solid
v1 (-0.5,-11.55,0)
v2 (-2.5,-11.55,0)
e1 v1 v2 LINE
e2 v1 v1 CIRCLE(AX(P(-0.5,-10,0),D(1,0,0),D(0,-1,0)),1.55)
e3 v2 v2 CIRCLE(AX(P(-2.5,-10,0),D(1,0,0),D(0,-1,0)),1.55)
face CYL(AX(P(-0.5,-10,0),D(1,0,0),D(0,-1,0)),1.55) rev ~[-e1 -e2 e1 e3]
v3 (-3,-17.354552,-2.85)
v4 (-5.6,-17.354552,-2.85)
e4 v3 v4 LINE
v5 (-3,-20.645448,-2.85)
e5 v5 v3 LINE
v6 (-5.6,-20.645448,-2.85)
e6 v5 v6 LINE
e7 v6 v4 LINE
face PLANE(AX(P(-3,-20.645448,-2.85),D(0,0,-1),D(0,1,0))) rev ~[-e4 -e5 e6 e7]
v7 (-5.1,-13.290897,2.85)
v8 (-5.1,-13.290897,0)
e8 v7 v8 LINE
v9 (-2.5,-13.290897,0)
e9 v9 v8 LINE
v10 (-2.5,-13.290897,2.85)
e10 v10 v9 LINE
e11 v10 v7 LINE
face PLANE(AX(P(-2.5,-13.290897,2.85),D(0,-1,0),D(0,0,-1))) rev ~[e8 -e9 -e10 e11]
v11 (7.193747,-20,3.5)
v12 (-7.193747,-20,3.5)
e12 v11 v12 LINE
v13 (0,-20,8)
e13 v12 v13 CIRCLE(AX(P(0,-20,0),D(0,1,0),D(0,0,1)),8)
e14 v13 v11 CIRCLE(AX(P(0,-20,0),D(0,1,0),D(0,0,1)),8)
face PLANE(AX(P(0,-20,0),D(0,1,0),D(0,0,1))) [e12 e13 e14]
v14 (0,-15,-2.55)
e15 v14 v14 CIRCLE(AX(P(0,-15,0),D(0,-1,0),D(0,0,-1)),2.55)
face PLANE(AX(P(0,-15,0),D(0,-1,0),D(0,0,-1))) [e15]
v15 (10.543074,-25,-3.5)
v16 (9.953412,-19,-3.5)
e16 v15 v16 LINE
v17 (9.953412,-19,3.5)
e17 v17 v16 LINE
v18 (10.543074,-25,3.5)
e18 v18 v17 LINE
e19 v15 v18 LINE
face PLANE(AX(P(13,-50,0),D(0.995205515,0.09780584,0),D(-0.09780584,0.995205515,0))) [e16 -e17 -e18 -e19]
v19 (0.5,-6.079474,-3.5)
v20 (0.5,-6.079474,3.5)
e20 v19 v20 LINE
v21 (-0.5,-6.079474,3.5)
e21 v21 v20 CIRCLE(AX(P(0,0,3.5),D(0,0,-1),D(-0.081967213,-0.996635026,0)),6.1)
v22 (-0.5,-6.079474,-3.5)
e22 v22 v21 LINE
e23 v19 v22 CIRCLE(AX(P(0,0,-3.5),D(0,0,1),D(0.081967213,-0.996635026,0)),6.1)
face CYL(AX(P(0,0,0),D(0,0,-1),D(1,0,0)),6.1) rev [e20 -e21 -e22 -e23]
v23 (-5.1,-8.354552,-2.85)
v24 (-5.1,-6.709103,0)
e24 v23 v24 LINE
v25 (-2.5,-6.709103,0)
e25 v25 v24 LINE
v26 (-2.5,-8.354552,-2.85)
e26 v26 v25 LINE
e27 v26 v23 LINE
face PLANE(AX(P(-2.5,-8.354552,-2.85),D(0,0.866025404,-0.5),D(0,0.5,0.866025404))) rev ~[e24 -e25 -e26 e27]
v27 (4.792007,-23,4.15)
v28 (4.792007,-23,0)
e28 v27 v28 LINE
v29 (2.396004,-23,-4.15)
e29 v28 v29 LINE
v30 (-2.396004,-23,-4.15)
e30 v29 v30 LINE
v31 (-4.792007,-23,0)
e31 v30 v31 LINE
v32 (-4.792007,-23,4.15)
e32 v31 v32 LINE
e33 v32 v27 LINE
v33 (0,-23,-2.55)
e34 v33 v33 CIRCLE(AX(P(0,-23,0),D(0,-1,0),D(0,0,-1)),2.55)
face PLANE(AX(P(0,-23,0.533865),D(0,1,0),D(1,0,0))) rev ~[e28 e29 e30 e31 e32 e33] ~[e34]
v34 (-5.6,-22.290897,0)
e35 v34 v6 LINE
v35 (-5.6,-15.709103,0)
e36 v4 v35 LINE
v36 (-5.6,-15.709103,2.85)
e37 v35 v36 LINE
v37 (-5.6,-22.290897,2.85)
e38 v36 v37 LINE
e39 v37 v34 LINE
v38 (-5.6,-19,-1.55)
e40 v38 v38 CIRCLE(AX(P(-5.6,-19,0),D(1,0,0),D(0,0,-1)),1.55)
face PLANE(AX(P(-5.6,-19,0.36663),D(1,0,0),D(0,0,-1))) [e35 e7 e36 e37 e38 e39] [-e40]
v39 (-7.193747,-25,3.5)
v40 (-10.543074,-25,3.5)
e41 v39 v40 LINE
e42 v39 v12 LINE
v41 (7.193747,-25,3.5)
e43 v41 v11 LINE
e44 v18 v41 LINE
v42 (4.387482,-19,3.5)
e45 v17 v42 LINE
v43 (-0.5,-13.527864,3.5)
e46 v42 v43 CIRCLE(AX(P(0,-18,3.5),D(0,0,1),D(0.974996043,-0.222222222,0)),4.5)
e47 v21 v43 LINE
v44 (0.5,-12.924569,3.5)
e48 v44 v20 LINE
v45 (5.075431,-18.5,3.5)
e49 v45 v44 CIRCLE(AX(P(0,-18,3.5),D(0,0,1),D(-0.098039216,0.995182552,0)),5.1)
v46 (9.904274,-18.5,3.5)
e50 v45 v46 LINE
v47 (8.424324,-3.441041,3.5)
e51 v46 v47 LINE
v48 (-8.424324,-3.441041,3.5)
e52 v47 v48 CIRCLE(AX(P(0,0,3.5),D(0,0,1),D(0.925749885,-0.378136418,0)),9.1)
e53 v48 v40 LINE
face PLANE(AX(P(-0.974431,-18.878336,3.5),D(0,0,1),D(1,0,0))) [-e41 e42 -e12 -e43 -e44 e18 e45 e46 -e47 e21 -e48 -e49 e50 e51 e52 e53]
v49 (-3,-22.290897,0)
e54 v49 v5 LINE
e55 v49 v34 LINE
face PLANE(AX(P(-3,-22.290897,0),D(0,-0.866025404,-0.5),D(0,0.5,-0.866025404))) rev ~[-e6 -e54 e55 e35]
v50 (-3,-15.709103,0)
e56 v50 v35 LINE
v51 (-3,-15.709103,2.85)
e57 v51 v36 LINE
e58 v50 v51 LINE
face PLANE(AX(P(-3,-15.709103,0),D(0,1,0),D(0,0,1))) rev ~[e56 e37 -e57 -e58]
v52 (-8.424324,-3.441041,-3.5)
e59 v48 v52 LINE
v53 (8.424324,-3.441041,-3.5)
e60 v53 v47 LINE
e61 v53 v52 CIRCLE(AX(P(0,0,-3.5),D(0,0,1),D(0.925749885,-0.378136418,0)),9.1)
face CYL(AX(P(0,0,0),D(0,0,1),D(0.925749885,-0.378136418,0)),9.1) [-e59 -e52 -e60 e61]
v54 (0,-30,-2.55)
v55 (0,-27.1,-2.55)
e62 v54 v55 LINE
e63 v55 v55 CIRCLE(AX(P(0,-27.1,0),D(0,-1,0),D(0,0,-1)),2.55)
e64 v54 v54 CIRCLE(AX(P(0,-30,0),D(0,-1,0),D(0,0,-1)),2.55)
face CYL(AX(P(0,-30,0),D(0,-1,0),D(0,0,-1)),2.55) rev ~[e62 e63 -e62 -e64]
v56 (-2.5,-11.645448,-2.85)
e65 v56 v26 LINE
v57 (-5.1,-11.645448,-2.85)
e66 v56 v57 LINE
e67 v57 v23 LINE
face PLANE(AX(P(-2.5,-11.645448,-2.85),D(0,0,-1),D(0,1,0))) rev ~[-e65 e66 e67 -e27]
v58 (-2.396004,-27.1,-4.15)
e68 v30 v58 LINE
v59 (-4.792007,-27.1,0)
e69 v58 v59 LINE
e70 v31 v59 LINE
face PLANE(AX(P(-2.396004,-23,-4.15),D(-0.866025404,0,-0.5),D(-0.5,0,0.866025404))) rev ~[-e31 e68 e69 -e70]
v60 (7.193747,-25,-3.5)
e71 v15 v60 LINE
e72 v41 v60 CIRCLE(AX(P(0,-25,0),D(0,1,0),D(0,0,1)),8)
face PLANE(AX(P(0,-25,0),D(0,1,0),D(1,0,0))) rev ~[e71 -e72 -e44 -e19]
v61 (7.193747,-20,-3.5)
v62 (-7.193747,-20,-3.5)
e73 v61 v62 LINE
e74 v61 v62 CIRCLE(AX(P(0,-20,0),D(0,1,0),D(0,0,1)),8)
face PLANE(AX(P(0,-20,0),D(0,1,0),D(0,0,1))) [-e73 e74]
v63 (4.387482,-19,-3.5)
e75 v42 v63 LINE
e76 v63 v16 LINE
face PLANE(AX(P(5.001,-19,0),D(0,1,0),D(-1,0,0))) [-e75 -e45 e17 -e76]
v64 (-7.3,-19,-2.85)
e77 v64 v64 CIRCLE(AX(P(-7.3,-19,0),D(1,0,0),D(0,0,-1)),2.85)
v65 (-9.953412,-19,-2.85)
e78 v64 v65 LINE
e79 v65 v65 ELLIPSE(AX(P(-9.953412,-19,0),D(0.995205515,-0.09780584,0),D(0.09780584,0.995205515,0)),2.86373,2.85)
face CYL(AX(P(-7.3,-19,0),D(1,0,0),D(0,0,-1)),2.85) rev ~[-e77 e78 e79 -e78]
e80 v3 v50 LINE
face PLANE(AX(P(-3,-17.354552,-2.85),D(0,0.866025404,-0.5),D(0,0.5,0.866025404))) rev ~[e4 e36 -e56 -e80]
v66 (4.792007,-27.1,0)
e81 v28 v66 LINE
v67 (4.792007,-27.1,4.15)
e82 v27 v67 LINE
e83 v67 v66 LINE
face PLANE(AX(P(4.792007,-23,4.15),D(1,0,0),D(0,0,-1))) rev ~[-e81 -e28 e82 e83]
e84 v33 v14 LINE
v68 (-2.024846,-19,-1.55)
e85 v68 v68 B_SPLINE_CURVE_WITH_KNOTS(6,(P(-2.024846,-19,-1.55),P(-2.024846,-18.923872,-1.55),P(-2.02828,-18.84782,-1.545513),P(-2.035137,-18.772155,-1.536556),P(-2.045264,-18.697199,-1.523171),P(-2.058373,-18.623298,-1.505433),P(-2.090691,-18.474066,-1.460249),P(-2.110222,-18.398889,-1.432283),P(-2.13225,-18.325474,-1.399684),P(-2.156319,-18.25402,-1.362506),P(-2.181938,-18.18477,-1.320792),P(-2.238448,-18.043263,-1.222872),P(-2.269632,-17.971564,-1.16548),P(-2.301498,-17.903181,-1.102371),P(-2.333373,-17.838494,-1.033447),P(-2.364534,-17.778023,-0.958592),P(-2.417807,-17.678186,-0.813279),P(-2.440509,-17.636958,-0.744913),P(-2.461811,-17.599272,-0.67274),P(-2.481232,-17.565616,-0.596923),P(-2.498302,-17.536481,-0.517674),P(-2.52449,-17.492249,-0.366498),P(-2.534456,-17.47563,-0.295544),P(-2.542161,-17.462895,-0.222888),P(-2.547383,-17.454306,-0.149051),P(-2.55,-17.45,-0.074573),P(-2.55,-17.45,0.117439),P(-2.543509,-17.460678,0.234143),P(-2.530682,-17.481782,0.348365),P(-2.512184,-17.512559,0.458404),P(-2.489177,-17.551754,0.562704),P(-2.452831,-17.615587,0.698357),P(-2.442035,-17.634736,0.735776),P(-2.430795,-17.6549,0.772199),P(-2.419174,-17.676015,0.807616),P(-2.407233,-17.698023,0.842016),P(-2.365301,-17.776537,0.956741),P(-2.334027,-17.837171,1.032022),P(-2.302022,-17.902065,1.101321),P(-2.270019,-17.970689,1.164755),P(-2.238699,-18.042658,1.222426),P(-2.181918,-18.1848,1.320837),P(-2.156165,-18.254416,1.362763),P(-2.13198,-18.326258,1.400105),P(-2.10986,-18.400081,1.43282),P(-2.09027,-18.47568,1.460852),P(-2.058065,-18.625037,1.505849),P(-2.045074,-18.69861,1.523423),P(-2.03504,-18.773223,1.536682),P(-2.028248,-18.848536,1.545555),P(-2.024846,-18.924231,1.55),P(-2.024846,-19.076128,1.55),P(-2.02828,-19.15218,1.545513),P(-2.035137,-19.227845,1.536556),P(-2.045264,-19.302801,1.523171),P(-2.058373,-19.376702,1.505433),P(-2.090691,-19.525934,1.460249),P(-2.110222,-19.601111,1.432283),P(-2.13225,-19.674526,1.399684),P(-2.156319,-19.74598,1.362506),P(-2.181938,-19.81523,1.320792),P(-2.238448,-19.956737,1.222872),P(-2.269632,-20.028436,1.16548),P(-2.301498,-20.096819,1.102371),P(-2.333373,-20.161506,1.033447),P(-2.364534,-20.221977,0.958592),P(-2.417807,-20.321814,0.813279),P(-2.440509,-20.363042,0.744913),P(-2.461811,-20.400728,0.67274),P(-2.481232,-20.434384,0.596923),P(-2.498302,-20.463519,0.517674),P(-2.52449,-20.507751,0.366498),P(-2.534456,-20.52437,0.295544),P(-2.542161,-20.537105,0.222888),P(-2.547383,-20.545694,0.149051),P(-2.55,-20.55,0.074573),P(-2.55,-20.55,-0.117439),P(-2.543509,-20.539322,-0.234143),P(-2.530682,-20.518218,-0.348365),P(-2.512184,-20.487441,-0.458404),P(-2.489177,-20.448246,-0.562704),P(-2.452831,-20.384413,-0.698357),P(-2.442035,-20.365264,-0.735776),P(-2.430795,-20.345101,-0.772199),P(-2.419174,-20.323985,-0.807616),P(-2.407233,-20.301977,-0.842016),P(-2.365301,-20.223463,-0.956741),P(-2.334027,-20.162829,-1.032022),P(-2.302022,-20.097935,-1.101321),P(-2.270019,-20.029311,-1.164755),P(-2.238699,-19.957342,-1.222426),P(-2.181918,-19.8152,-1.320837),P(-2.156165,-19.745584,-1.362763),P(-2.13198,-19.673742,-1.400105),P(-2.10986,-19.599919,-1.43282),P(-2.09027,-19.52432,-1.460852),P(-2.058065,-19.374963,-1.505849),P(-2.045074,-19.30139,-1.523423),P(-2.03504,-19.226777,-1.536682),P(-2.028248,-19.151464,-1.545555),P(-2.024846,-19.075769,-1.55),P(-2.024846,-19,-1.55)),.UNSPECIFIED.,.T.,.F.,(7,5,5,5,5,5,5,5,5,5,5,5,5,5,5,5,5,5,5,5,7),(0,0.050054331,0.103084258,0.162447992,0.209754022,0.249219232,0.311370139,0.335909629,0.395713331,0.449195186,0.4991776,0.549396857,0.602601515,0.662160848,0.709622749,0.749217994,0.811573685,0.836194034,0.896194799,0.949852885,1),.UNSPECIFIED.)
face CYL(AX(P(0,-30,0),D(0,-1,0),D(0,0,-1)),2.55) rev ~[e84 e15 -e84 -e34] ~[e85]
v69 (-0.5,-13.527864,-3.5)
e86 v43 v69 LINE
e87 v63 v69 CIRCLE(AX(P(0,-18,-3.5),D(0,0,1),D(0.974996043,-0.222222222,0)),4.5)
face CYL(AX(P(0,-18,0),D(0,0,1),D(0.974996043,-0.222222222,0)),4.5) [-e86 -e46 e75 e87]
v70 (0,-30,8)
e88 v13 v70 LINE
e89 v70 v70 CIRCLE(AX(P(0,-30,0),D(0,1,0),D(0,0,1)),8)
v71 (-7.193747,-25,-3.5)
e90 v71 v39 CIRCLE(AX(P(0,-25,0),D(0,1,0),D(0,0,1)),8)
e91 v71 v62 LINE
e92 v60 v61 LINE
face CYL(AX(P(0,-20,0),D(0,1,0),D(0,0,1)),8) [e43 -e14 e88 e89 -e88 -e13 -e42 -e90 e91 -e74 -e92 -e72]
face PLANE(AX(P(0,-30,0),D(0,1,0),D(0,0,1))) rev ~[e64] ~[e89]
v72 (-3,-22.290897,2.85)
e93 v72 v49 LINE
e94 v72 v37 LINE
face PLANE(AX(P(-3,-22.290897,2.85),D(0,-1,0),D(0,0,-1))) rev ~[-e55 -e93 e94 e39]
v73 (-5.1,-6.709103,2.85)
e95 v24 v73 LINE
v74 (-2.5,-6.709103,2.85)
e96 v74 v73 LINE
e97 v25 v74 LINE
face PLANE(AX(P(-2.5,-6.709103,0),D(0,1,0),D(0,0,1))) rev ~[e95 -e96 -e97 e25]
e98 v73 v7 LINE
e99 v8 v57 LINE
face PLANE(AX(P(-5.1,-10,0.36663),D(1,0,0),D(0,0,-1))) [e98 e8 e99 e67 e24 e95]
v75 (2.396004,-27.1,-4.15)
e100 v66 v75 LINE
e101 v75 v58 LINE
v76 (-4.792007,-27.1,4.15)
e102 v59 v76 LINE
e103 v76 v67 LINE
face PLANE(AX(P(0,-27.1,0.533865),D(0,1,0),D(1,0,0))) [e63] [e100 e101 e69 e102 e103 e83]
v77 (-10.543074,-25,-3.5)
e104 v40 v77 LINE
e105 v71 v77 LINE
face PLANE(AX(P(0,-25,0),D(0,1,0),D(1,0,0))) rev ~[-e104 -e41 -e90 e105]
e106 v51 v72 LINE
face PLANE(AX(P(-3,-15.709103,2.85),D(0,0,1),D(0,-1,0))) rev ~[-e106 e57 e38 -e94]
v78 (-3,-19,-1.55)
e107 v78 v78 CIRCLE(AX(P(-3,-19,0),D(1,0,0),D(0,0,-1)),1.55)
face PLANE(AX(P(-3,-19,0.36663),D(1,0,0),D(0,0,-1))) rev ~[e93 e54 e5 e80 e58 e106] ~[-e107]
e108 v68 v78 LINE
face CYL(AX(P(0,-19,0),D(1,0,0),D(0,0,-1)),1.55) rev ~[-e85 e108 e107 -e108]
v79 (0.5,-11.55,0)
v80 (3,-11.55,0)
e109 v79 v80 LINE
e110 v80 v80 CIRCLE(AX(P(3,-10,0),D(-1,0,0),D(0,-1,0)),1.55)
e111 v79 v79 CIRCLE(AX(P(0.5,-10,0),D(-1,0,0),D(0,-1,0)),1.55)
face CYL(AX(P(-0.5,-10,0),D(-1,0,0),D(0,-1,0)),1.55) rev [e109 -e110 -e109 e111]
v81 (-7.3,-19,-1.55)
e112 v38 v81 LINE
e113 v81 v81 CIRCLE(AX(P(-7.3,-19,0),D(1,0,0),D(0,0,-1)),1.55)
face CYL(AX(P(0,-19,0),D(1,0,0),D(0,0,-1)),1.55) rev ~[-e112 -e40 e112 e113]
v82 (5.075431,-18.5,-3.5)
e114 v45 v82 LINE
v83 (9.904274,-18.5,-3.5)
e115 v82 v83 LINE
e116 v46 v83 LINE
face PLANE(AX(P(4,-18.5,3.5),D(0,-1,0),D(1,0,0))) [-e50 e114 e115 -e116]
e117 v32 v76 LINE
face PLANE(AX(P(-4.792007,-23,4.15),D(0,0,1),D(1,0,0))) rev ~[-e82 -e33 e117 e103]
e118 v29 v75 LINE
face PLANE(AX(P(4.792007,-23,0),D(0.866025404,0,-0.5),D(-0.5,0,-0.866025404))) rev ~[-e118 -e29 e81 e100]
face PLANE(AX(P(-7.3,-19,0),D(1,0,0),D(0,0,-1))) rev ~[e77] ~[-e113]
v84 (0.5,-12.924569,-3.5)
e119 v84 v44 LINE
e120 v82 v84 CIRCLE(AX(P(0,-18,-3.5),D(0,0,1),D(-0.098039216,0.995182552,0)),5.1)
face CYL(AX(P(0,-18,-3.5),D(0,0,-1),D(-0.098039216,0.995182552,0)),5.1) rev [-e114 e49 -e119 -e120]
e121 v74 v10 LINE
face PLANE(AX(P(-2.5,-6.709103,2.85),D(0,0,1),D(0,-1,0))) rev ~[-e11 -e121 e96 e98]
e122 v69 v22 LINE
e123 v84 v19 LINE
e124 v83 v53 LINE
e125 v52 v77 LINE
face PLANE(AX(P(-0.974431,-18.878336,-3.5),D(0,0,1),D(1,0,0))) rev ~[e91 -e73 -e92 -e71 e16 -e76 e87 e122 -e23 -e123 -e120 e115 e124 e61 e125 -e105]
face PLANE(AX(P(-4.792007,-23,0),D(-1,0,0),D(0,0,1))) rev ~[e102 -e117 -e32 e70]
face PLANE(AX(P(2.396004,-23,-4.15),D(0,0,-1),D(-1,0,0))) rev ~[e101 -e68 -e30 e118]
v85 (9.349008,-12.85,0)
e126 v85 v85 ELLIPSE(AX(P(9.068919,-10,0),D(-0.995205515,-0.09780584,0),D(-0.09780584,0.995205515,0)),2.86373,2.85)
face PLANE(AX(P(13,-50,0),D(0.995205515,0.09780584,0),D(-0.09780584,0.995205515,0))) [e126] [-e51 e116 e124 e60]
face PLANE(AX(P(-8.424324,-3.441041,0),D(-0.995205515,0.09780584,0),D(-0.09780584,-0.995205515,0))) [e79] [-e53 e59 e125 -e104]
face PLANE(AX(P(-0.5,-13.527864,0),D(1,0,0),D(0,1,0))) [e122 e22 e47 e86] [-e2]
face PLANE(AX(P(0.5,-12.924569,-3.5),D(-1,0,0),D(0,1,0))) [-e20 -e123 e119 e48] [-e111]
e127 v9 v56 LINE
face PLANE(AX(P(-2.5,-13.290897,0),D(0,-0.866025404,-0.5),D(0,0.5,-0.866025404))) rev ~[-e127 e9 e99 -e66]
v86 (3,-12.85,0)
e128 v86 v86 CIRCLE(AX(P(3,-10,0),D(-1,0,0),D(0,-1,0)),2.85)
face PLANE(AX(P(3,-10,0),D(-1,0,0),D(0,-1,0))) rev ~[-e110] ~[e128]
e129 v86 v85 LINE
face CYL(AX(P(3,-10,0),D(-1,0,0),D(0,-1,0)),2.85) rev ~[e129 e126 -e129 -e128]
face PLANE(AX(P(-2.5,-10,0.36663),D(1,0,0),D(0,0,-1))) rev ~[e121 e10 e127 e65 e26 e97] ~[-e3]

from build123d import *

# Parameters (mm, degrees)
SKETCH1_R                      = 6.1
THICKNESS_DEPTH                = 3.5
BOTNUTCUT_START                = -2
SKETCH2_R                      = 2.85
BOTNUTCUT_DEPTH                = 2.6
SKETCH3_R                      = 1.55
BOTSCREWCUT_DEPTH              = 2
CUT_EXTRUDE1_START             = -7
CUT_EXTRUDE1_DEPTH             = 7
RAILNUTCUT_START               = -2
RAILNUTCUT_DEPTH               = 2.6
SKETCH7_R                      = 1.55
RAILSCREWCUT_DEPTH             = 2.6
RAILSCREWCUT_DIRECTION_2_REACH = 53.909
RAILNUTHEADCUT_REACH           = 56.409
RAILNUTHEADCUT_START           = -2.5
SKETCH8_R                      = 2.85
SKETCH9_W                      = 7
SKETCH9_H                      = 0.5
MOVEMENTCUT_DEPTH              = 7
SKETCH10_R                     = 4.5
BOSS_EXTRUDE1_DEPTH            = 3.5
CUT_EXTRUDE2_START             = -25
SKETCH11_W                     = 40
SKETCH11_H                     = 25
CUT_EXTRUDE2_DEPTH             = 25
SKETCH12_R                     = 8
BOSS_EXTRUDE2_DEPTH            = 10
CUT_EXTRUDE3_START             = -3
CUT_EXTRUDE3_DEPTH             = 4.1
SKETCH14_R                     = 2.55
CUT_EXTRUDE4_DEPTH             = 15
CUT_EXTRUDE5_REACH             = 34.79
SKETCH15_R                     = 1.55
CUT_EXTRUDE6_REACH             = 42.09
CUT_EXTRUDE6_START             = -7.3
SKETCH16_R                     = 2.85
CUT_EXTRUDE7_START             = -3
CUT_EXTRUDE7_DEPTH             = 2.6


with BuildPart() as part:
    # Sketch1 → Thickness (new, symmetric)
    with BuildSketch(Plane.XY):
        with BuildLine():
            Line((-13, -50), (13, -50))
            Line((13, -50), (8.424323952, -3.441041405))
            ThreePointArc((8.424323952, -3.441041405), (0, 9.1), (-8.424323952, -3.441041405))
            Line((-8.424323952, -3.441041405), (-13, -50))
        make_face()
        Circle(SKETCH1_R, mode=Mode.SUBTRACT)
    extrude(amount=THICKNESS_DEPTH, both=True)

    # Sketch2 → BotNutCut (cut)
    with BuildSketch(Plane.XZ.offset(50).offset(BOTNUTCUT_START)):
        with Locations((-7.5, 0)):
            Circle(SKETCH2_R)
        with BuildLine():
            Line((-10.790896534, 2.85), (-10.790896534, 0))
            Line((-10.790896534, 0), (-9.968172361, -1.42500007))
            ThreePointArc((-9.968172361, -1.42500007), (-9.96817242, 1.424999968), (-7.499999995, 2.85))
            Line((-7.499999995, 2.85), (-10.790896534, 2.85))
        make_face()
        with BuildLine():
            Line((-4.209103466, 2.85), (-7.499999995, 2.85))
            ThreePointArc((-7.499999995, 2.85), (-5.484745672, 2.015254324), (-4.65, 0))
            ThreePointArc((-4.65, 0), (-4.747111384, -0.737634237), (-5.031827556, -1.424999925))
            Line((-5.031827556, -1.424999925), (-4.209103466, 0))
            Line((-4.209103466, 0), (-4.209103466, 2.85))
        make_face()
        with BuildLine():
            ThreePointArc((-5.031827556, -1.424999925), (-6.074999963, -2.468172379), (-7.5, -2.85))
            Line((-7.5, -2.85), (-5.854551733, -2.85))
            Line((-5.854551733, -2.85), (-5.031827556, -1.424999925))
        make_face()
        with BuildLine():
            ThreePointArc((-7.5, -2.85), (-8.924999965, -2.468172421), (-9.968172361, -1.42500007))
            Line((-9.968172361, -1.42500007), (-9.145448267, -2.85))
            Line((-9.145448267, -2.85), (-7.5, -2.85))
        make_face()
        with BuildLine():
            ThreePointArc((7.5, -2.85), (6.074999995, -2.468172398), (5.031827593, -1.42499999))
            Line((5.031827593, -1.42499999), (5.854551733, -2.85))
            Line((5.854551733, -2.85), (7.5, -2.85))
        make_face()
        with BuildLine():
            ThreePointArc((9.968172375, -1.425000045), (8.924999978, -2.468172414), (7.5, -2.85))
            Line((7.5, -2.85), (9.145448267, -2.85))
            Line((9.145448267, -2.85), (9.968172375, -1.425000045))
        make_face()
        with BuildLine():
            Line((10.790896534, 2.85), (7.5, 2.85))
            ThreePointArc((7.5, 2.85), (9.515254326, 2.015254326), (10.35, 0))
            ThreePointArc((10.35, 0), (10.252888598, -0.737634304), (9.968172375, -1.425000045))
            Line((9.968172375, -1.425000045), (10.790896534, 0))
            Line((10.790896534, 0), (10.790896534, 2.85))
        make_face()
        with BuildLine():
            Line((4.209103466, 2.85), (4.209103466, 0))
            Line((4.209103466, 0), (5.031827593, -1.42499999))
            ThreePointArc((5.031827593, -1.42499999), (5.031827602, 1.425000005), (7.5, 2.85))
            Line((7.5, 2.85), (4.209103466, 2.85))
        make_face()
        with Locations((7.5, 0)):
            Circle(SKETCH2_R)
    extrude(amount=-BOTNUTCUT_DEPTH, mode=Mode.SUBTRACT)

    # Sketch3 → BotScrewCut (cut)
    with BuildSketch(Plane.XZ.offset(50)):
        with Locations(Location((-7.5, 0, 0), (0, 0, 270))):
            Circle(SKETCH3_R)
        with Locations(Location((7.5, 0, 0), (0, 0, 270))):
            Circle(SKETCH3_R)
    extrude(amount=-BOTSCREWCUT_DEPTH, mode=Mode.SUBTRACT)

    # Sketch5 → Cut-Extrude1 (cut)
    with BuildSketch(Plane.XY.offset(3.5).offset(CUT_EXTRUDE1_START)):
        with BuildLine():
            ThreePointArc((0.5, -6.079473661), (0, -6.1), (-0.5, -6.079473661))
            Line((-0.5, -6.079473661), (-0.5, -12.924568984))
            ThreePointArc((-0.5, -12.924568984), (0, -23.1), (0.5, -12.924568984))
            Line((0.5, -12.924568984), (0.5, -6.079473661))
        make_face()
    extrude(amount=CUT_EXTRUDE1_DEPTH, mode=Mode.SUBTRACT)

    # Sketch6 → RailNutCut (cut)
    with BuildSketch(Plane(origin=(-0.5, 0, 0), x_dir=(0, 0, -1), z_dir=(1, 0, 0)).offset(RAILNUTCUT_START)):
        Polygon((0, -13.290896534), (2.85, -11.645448267), (2.85, -8.354551733), (0, -6.709103466), (-2.85, -6.709103466), (-2.85, -13.290896534), align=None)
    extrude(amount=-RAILNUTCUT_DEPTH, mode=Mode.SUBTRACT)

    # Sketch7 → RailScrewCut (cut)
    with BuildSketch(Plane(origin=(-0.5, 0, 0), x_dir=(0, 0, -1), z_dir=(1, 0, 0))):
        with Locations(Location((0, -10, 0), (0, 0, 270))):
            Circle(SKETCH7_R)
    extrude(amount=-RAILSCREWCUT_DEPTH, mode=Mode.SUBTRACT)

    # RailScrewCut direction 2: up to this plane
    railscrewcut_direction_2_end = Plane(origin=(13, -50, 3.5), z_dir=(-0.9952055153223801, -0.09780583966162733, 0))
    # Sketch7 → RailScrewCut direction 2 (cut, up to the surface)
    with BuildSketch(Plane(origin=(-0.5, 0, 0), x_dir=(0, 0, -1), z_dir=(1, 0, 0)), mode=Mode.PRIVATE) as railscrewcut_direction_2_sk1:
        with Locations(Location((0, -10, 0), (0, 0, 270))):
            Circle(SKETCH7_R)
    railscrewcut_direction_2_tool1 = split(extrude(railscrewcut_direction_2_sk1.sketch, amount=RAILSCREWCUT_DIRECTION_2_REACH, mode=Mode.PRIVATE), bisect_by=railscrewcut_direction_2_end, keep=Keep.BOTH, mode=Mode.PRIVATE)
    add(railscrewcut_direction_2_tool1.solids().sort_by_distance((-0.5, -10, 0))[0], mode=Mode.SUBTRACT)

    # RailNutHeadCut: up to this plane
    railnutheadcut_end = Plane(origin=(13, -50, 3.5), z_dir=(-0.9952055153223801, -0.09780583966162733, 0))
    # Sketch8 → RailNutHeadCut (cut, up to the surface)
    with BuildSketch(Plane.ZY.offset(-0.5).offset(RAILNUTHEADCUT_START), mode=Mode.PRIVATE) as railnutheadcut_sk1:
        with Locations(Location((0, -10, 0), (0, 0, 270))):
            Circle(SKETCH8_R)
    railnutheadcut_tool1 = split(extrude(railnutheadcut_sk1.sketch, amount=-RAILNUTHEADCUT_REACH, mode=Mode.PRIVATE), bisect_by=railnutheadcut_end, keep=Keep.BOTH, mode=Mode.PRIVATE)
    add(railnutheadcut_tool1.solids().sort_by_distance((3, -10, 0))[0], mode=Mode.SUBTRACT)

    # Sketch9 → MovementCut (cut)
    with BuildSketch(Plane.XY.offset(3.5)):
        with Locations((7.5, -18.75)):
            Rectangle(SKETCH9_W, SKETCH9_H)
    extrude(amount=-MOVEMENTCUT_DEPTH, mode=Mode.SUBTRACT)

    # Sketch10 → Boss-Extrude1 (add, symmetric)
    with BuildSketch(Plane.XY):
        with BuildLine():
            Line((-0.5, -13.527864045), (-0.5, -12.924568984))
            ThreePointArc((-0.5, -12.924568984), (-3.780537731, -21.42308844), (5.0009999, -19))
            Line((5.0009999, -19), (4.387482194, -19))
            ThreePointArc((4.387482194, -19), (-3.356217727, -20.997632828), (-0.5, -13.527864045))
        make_face()
        with Locations((0, -18)):
            Circle(SKETCH10_R)
    extrude(amount=BOSS_EXTRUDE1_DEPTH, both=True)

    # Sketch11 → Cut-Extrude2 (cut)
    with BuildSketch(Plane(origin=(0, 0, 0), x_dir=(1, 0, 0), z_dir=(0, 1, 0)).offset(CUT_EXTRUDE2_START)):
        Rectangle(SKETCH11_W, SKETCH11_H)
    extrude(amount=-CUT_EXTRUDE2_DEPTH, mode=Mode.SUBTRACT)

    # Sketch12 → Boss-Extrude2 (add)
    with BuildSketch(Plane(origin=(0, -20, 0), x_dir=(1, 0, 0), z_dir=(0, 1, 0))):
        with Locations(Location((0, 0, 0), (0, 0, 270))):
            Circle(SKETCH12_R)
    extrude(amount=-BOSS_EXTRUDE2_DEPTH)

    # Sketch13 → Cut-Extrude3 (cut)
    with BuildSketch(Plane(origin=(0, -20, 0), x_dir=(1, 0, 0), z_dir=(0, 1, 0)).offset(CUT_EXTRUDE3_START)):
        Polygon((-4.792007234, 0), (-4.792007234, -4.15), (4.792007234, -4.15), (4.792007234, 0), (2.396003617, 4.15), (-2.396003617, 4.15), align=None)
    extrude(amount=-CUT_EXTRUDE3_DEPTH, mode=Mode.SUBTRACT)

    # Sketch14 → Cut-Extrude4 (cut)
    with BuildSketch(Plane.XZ.offset(30)):
        with Locations(Location((0, 0, 0), (0, 0, 270))):
            Circle(SKETCH14_R)
    extrude(amount=-CUT_EXTRUDE4_DEPTH, mode=Mode.SUBTRACT)

    # Cut-Extrude5: up to this plane
    cut_extrude5_end = Plane(origin=(-13, -50, 3.5), z_dir=(0.9952055153223801, -0.09780583966162733, 0))
    # Sketch15 → Cut-Extrude5 (cut, up to the surface)
    with BuildSketch(Plane(origin=(0, 0, 0), x_dir=(0, 0, -1), z_dir=(1, 0, 0)), mode=Mode.PRIVATE) as cut_extrude5_sk1:
        with Locations((0, -19)):
            Circle(SKETCH15_R)
    cut_extrude5_tool1 = split(extrude(cut_extrude5_sk1.sketch, amount=-CUT_EXTRUDE5_REACH, mode=Mode.PRIVATE), bisect_by=cut_extrude5_end, keep=Keep.BOTH, mode=Mode.PRIVATE)
    add(cut_extrude5_tool1.solids().sort_by_distance((0, -19, 0))[0], mode=Mode.SUBTRACT)

    # Cut-Extrude6: up to this plane
    cut_extrude6_end = Plane(origin=(-13, -50, 3.5), z_dir=(0.9952055153223801, -0.09780583966162733, 0))
    # Sketch16 → Cut-Extrude6 (cut, up to the surface)
    with BuildSketch(Plane(origin=(0, 0, 0), x_dir=(0, 0, -1), z_dir=(1, 0, 0)).offset(CUT_EXTRUDE6_START), mode=Mode.PRIVATE) as cut_extrude6_sk1:
        with Locations((0, -19)):
            Circle(SKETCH16_R)
    cut_extrude6_tool1 = split(extrude(cut_extrude6_sk1.sketch, amount=-CUT_EXTRUDE6_REACH, mode=Mode.PRIVATE), bisect_by=cut_extrude6_end, keep=Keep.BOTH, mode=Mode.PRIVATE)
    add(cut_extrude6_tool1.solids().sort_by_distance((-7.3, -19, 0))[0], mode=Mode.SUBTRACT)

    # Sketch17 → Cut-Extrude7 (cut)
    with BuildSketch(Plane(origin=(0, 0, 0), x_dir=(0, 0, -1), z_dir=(1, 0, 0)).offset(CUT_EXTRUDE7_START)):
        Polygon((-2.85, -15.709103466), (-2.85, -22.290896534), (0, -22.290896534), (2.85, -20.645448267), (2.85, -17.354551733), (0, -15.709103466), align=None)
    extrude(amount=-CUT_EXTRUDE7_DEPTH, mode=Mode.SUBTRACT)


solid = part.part
